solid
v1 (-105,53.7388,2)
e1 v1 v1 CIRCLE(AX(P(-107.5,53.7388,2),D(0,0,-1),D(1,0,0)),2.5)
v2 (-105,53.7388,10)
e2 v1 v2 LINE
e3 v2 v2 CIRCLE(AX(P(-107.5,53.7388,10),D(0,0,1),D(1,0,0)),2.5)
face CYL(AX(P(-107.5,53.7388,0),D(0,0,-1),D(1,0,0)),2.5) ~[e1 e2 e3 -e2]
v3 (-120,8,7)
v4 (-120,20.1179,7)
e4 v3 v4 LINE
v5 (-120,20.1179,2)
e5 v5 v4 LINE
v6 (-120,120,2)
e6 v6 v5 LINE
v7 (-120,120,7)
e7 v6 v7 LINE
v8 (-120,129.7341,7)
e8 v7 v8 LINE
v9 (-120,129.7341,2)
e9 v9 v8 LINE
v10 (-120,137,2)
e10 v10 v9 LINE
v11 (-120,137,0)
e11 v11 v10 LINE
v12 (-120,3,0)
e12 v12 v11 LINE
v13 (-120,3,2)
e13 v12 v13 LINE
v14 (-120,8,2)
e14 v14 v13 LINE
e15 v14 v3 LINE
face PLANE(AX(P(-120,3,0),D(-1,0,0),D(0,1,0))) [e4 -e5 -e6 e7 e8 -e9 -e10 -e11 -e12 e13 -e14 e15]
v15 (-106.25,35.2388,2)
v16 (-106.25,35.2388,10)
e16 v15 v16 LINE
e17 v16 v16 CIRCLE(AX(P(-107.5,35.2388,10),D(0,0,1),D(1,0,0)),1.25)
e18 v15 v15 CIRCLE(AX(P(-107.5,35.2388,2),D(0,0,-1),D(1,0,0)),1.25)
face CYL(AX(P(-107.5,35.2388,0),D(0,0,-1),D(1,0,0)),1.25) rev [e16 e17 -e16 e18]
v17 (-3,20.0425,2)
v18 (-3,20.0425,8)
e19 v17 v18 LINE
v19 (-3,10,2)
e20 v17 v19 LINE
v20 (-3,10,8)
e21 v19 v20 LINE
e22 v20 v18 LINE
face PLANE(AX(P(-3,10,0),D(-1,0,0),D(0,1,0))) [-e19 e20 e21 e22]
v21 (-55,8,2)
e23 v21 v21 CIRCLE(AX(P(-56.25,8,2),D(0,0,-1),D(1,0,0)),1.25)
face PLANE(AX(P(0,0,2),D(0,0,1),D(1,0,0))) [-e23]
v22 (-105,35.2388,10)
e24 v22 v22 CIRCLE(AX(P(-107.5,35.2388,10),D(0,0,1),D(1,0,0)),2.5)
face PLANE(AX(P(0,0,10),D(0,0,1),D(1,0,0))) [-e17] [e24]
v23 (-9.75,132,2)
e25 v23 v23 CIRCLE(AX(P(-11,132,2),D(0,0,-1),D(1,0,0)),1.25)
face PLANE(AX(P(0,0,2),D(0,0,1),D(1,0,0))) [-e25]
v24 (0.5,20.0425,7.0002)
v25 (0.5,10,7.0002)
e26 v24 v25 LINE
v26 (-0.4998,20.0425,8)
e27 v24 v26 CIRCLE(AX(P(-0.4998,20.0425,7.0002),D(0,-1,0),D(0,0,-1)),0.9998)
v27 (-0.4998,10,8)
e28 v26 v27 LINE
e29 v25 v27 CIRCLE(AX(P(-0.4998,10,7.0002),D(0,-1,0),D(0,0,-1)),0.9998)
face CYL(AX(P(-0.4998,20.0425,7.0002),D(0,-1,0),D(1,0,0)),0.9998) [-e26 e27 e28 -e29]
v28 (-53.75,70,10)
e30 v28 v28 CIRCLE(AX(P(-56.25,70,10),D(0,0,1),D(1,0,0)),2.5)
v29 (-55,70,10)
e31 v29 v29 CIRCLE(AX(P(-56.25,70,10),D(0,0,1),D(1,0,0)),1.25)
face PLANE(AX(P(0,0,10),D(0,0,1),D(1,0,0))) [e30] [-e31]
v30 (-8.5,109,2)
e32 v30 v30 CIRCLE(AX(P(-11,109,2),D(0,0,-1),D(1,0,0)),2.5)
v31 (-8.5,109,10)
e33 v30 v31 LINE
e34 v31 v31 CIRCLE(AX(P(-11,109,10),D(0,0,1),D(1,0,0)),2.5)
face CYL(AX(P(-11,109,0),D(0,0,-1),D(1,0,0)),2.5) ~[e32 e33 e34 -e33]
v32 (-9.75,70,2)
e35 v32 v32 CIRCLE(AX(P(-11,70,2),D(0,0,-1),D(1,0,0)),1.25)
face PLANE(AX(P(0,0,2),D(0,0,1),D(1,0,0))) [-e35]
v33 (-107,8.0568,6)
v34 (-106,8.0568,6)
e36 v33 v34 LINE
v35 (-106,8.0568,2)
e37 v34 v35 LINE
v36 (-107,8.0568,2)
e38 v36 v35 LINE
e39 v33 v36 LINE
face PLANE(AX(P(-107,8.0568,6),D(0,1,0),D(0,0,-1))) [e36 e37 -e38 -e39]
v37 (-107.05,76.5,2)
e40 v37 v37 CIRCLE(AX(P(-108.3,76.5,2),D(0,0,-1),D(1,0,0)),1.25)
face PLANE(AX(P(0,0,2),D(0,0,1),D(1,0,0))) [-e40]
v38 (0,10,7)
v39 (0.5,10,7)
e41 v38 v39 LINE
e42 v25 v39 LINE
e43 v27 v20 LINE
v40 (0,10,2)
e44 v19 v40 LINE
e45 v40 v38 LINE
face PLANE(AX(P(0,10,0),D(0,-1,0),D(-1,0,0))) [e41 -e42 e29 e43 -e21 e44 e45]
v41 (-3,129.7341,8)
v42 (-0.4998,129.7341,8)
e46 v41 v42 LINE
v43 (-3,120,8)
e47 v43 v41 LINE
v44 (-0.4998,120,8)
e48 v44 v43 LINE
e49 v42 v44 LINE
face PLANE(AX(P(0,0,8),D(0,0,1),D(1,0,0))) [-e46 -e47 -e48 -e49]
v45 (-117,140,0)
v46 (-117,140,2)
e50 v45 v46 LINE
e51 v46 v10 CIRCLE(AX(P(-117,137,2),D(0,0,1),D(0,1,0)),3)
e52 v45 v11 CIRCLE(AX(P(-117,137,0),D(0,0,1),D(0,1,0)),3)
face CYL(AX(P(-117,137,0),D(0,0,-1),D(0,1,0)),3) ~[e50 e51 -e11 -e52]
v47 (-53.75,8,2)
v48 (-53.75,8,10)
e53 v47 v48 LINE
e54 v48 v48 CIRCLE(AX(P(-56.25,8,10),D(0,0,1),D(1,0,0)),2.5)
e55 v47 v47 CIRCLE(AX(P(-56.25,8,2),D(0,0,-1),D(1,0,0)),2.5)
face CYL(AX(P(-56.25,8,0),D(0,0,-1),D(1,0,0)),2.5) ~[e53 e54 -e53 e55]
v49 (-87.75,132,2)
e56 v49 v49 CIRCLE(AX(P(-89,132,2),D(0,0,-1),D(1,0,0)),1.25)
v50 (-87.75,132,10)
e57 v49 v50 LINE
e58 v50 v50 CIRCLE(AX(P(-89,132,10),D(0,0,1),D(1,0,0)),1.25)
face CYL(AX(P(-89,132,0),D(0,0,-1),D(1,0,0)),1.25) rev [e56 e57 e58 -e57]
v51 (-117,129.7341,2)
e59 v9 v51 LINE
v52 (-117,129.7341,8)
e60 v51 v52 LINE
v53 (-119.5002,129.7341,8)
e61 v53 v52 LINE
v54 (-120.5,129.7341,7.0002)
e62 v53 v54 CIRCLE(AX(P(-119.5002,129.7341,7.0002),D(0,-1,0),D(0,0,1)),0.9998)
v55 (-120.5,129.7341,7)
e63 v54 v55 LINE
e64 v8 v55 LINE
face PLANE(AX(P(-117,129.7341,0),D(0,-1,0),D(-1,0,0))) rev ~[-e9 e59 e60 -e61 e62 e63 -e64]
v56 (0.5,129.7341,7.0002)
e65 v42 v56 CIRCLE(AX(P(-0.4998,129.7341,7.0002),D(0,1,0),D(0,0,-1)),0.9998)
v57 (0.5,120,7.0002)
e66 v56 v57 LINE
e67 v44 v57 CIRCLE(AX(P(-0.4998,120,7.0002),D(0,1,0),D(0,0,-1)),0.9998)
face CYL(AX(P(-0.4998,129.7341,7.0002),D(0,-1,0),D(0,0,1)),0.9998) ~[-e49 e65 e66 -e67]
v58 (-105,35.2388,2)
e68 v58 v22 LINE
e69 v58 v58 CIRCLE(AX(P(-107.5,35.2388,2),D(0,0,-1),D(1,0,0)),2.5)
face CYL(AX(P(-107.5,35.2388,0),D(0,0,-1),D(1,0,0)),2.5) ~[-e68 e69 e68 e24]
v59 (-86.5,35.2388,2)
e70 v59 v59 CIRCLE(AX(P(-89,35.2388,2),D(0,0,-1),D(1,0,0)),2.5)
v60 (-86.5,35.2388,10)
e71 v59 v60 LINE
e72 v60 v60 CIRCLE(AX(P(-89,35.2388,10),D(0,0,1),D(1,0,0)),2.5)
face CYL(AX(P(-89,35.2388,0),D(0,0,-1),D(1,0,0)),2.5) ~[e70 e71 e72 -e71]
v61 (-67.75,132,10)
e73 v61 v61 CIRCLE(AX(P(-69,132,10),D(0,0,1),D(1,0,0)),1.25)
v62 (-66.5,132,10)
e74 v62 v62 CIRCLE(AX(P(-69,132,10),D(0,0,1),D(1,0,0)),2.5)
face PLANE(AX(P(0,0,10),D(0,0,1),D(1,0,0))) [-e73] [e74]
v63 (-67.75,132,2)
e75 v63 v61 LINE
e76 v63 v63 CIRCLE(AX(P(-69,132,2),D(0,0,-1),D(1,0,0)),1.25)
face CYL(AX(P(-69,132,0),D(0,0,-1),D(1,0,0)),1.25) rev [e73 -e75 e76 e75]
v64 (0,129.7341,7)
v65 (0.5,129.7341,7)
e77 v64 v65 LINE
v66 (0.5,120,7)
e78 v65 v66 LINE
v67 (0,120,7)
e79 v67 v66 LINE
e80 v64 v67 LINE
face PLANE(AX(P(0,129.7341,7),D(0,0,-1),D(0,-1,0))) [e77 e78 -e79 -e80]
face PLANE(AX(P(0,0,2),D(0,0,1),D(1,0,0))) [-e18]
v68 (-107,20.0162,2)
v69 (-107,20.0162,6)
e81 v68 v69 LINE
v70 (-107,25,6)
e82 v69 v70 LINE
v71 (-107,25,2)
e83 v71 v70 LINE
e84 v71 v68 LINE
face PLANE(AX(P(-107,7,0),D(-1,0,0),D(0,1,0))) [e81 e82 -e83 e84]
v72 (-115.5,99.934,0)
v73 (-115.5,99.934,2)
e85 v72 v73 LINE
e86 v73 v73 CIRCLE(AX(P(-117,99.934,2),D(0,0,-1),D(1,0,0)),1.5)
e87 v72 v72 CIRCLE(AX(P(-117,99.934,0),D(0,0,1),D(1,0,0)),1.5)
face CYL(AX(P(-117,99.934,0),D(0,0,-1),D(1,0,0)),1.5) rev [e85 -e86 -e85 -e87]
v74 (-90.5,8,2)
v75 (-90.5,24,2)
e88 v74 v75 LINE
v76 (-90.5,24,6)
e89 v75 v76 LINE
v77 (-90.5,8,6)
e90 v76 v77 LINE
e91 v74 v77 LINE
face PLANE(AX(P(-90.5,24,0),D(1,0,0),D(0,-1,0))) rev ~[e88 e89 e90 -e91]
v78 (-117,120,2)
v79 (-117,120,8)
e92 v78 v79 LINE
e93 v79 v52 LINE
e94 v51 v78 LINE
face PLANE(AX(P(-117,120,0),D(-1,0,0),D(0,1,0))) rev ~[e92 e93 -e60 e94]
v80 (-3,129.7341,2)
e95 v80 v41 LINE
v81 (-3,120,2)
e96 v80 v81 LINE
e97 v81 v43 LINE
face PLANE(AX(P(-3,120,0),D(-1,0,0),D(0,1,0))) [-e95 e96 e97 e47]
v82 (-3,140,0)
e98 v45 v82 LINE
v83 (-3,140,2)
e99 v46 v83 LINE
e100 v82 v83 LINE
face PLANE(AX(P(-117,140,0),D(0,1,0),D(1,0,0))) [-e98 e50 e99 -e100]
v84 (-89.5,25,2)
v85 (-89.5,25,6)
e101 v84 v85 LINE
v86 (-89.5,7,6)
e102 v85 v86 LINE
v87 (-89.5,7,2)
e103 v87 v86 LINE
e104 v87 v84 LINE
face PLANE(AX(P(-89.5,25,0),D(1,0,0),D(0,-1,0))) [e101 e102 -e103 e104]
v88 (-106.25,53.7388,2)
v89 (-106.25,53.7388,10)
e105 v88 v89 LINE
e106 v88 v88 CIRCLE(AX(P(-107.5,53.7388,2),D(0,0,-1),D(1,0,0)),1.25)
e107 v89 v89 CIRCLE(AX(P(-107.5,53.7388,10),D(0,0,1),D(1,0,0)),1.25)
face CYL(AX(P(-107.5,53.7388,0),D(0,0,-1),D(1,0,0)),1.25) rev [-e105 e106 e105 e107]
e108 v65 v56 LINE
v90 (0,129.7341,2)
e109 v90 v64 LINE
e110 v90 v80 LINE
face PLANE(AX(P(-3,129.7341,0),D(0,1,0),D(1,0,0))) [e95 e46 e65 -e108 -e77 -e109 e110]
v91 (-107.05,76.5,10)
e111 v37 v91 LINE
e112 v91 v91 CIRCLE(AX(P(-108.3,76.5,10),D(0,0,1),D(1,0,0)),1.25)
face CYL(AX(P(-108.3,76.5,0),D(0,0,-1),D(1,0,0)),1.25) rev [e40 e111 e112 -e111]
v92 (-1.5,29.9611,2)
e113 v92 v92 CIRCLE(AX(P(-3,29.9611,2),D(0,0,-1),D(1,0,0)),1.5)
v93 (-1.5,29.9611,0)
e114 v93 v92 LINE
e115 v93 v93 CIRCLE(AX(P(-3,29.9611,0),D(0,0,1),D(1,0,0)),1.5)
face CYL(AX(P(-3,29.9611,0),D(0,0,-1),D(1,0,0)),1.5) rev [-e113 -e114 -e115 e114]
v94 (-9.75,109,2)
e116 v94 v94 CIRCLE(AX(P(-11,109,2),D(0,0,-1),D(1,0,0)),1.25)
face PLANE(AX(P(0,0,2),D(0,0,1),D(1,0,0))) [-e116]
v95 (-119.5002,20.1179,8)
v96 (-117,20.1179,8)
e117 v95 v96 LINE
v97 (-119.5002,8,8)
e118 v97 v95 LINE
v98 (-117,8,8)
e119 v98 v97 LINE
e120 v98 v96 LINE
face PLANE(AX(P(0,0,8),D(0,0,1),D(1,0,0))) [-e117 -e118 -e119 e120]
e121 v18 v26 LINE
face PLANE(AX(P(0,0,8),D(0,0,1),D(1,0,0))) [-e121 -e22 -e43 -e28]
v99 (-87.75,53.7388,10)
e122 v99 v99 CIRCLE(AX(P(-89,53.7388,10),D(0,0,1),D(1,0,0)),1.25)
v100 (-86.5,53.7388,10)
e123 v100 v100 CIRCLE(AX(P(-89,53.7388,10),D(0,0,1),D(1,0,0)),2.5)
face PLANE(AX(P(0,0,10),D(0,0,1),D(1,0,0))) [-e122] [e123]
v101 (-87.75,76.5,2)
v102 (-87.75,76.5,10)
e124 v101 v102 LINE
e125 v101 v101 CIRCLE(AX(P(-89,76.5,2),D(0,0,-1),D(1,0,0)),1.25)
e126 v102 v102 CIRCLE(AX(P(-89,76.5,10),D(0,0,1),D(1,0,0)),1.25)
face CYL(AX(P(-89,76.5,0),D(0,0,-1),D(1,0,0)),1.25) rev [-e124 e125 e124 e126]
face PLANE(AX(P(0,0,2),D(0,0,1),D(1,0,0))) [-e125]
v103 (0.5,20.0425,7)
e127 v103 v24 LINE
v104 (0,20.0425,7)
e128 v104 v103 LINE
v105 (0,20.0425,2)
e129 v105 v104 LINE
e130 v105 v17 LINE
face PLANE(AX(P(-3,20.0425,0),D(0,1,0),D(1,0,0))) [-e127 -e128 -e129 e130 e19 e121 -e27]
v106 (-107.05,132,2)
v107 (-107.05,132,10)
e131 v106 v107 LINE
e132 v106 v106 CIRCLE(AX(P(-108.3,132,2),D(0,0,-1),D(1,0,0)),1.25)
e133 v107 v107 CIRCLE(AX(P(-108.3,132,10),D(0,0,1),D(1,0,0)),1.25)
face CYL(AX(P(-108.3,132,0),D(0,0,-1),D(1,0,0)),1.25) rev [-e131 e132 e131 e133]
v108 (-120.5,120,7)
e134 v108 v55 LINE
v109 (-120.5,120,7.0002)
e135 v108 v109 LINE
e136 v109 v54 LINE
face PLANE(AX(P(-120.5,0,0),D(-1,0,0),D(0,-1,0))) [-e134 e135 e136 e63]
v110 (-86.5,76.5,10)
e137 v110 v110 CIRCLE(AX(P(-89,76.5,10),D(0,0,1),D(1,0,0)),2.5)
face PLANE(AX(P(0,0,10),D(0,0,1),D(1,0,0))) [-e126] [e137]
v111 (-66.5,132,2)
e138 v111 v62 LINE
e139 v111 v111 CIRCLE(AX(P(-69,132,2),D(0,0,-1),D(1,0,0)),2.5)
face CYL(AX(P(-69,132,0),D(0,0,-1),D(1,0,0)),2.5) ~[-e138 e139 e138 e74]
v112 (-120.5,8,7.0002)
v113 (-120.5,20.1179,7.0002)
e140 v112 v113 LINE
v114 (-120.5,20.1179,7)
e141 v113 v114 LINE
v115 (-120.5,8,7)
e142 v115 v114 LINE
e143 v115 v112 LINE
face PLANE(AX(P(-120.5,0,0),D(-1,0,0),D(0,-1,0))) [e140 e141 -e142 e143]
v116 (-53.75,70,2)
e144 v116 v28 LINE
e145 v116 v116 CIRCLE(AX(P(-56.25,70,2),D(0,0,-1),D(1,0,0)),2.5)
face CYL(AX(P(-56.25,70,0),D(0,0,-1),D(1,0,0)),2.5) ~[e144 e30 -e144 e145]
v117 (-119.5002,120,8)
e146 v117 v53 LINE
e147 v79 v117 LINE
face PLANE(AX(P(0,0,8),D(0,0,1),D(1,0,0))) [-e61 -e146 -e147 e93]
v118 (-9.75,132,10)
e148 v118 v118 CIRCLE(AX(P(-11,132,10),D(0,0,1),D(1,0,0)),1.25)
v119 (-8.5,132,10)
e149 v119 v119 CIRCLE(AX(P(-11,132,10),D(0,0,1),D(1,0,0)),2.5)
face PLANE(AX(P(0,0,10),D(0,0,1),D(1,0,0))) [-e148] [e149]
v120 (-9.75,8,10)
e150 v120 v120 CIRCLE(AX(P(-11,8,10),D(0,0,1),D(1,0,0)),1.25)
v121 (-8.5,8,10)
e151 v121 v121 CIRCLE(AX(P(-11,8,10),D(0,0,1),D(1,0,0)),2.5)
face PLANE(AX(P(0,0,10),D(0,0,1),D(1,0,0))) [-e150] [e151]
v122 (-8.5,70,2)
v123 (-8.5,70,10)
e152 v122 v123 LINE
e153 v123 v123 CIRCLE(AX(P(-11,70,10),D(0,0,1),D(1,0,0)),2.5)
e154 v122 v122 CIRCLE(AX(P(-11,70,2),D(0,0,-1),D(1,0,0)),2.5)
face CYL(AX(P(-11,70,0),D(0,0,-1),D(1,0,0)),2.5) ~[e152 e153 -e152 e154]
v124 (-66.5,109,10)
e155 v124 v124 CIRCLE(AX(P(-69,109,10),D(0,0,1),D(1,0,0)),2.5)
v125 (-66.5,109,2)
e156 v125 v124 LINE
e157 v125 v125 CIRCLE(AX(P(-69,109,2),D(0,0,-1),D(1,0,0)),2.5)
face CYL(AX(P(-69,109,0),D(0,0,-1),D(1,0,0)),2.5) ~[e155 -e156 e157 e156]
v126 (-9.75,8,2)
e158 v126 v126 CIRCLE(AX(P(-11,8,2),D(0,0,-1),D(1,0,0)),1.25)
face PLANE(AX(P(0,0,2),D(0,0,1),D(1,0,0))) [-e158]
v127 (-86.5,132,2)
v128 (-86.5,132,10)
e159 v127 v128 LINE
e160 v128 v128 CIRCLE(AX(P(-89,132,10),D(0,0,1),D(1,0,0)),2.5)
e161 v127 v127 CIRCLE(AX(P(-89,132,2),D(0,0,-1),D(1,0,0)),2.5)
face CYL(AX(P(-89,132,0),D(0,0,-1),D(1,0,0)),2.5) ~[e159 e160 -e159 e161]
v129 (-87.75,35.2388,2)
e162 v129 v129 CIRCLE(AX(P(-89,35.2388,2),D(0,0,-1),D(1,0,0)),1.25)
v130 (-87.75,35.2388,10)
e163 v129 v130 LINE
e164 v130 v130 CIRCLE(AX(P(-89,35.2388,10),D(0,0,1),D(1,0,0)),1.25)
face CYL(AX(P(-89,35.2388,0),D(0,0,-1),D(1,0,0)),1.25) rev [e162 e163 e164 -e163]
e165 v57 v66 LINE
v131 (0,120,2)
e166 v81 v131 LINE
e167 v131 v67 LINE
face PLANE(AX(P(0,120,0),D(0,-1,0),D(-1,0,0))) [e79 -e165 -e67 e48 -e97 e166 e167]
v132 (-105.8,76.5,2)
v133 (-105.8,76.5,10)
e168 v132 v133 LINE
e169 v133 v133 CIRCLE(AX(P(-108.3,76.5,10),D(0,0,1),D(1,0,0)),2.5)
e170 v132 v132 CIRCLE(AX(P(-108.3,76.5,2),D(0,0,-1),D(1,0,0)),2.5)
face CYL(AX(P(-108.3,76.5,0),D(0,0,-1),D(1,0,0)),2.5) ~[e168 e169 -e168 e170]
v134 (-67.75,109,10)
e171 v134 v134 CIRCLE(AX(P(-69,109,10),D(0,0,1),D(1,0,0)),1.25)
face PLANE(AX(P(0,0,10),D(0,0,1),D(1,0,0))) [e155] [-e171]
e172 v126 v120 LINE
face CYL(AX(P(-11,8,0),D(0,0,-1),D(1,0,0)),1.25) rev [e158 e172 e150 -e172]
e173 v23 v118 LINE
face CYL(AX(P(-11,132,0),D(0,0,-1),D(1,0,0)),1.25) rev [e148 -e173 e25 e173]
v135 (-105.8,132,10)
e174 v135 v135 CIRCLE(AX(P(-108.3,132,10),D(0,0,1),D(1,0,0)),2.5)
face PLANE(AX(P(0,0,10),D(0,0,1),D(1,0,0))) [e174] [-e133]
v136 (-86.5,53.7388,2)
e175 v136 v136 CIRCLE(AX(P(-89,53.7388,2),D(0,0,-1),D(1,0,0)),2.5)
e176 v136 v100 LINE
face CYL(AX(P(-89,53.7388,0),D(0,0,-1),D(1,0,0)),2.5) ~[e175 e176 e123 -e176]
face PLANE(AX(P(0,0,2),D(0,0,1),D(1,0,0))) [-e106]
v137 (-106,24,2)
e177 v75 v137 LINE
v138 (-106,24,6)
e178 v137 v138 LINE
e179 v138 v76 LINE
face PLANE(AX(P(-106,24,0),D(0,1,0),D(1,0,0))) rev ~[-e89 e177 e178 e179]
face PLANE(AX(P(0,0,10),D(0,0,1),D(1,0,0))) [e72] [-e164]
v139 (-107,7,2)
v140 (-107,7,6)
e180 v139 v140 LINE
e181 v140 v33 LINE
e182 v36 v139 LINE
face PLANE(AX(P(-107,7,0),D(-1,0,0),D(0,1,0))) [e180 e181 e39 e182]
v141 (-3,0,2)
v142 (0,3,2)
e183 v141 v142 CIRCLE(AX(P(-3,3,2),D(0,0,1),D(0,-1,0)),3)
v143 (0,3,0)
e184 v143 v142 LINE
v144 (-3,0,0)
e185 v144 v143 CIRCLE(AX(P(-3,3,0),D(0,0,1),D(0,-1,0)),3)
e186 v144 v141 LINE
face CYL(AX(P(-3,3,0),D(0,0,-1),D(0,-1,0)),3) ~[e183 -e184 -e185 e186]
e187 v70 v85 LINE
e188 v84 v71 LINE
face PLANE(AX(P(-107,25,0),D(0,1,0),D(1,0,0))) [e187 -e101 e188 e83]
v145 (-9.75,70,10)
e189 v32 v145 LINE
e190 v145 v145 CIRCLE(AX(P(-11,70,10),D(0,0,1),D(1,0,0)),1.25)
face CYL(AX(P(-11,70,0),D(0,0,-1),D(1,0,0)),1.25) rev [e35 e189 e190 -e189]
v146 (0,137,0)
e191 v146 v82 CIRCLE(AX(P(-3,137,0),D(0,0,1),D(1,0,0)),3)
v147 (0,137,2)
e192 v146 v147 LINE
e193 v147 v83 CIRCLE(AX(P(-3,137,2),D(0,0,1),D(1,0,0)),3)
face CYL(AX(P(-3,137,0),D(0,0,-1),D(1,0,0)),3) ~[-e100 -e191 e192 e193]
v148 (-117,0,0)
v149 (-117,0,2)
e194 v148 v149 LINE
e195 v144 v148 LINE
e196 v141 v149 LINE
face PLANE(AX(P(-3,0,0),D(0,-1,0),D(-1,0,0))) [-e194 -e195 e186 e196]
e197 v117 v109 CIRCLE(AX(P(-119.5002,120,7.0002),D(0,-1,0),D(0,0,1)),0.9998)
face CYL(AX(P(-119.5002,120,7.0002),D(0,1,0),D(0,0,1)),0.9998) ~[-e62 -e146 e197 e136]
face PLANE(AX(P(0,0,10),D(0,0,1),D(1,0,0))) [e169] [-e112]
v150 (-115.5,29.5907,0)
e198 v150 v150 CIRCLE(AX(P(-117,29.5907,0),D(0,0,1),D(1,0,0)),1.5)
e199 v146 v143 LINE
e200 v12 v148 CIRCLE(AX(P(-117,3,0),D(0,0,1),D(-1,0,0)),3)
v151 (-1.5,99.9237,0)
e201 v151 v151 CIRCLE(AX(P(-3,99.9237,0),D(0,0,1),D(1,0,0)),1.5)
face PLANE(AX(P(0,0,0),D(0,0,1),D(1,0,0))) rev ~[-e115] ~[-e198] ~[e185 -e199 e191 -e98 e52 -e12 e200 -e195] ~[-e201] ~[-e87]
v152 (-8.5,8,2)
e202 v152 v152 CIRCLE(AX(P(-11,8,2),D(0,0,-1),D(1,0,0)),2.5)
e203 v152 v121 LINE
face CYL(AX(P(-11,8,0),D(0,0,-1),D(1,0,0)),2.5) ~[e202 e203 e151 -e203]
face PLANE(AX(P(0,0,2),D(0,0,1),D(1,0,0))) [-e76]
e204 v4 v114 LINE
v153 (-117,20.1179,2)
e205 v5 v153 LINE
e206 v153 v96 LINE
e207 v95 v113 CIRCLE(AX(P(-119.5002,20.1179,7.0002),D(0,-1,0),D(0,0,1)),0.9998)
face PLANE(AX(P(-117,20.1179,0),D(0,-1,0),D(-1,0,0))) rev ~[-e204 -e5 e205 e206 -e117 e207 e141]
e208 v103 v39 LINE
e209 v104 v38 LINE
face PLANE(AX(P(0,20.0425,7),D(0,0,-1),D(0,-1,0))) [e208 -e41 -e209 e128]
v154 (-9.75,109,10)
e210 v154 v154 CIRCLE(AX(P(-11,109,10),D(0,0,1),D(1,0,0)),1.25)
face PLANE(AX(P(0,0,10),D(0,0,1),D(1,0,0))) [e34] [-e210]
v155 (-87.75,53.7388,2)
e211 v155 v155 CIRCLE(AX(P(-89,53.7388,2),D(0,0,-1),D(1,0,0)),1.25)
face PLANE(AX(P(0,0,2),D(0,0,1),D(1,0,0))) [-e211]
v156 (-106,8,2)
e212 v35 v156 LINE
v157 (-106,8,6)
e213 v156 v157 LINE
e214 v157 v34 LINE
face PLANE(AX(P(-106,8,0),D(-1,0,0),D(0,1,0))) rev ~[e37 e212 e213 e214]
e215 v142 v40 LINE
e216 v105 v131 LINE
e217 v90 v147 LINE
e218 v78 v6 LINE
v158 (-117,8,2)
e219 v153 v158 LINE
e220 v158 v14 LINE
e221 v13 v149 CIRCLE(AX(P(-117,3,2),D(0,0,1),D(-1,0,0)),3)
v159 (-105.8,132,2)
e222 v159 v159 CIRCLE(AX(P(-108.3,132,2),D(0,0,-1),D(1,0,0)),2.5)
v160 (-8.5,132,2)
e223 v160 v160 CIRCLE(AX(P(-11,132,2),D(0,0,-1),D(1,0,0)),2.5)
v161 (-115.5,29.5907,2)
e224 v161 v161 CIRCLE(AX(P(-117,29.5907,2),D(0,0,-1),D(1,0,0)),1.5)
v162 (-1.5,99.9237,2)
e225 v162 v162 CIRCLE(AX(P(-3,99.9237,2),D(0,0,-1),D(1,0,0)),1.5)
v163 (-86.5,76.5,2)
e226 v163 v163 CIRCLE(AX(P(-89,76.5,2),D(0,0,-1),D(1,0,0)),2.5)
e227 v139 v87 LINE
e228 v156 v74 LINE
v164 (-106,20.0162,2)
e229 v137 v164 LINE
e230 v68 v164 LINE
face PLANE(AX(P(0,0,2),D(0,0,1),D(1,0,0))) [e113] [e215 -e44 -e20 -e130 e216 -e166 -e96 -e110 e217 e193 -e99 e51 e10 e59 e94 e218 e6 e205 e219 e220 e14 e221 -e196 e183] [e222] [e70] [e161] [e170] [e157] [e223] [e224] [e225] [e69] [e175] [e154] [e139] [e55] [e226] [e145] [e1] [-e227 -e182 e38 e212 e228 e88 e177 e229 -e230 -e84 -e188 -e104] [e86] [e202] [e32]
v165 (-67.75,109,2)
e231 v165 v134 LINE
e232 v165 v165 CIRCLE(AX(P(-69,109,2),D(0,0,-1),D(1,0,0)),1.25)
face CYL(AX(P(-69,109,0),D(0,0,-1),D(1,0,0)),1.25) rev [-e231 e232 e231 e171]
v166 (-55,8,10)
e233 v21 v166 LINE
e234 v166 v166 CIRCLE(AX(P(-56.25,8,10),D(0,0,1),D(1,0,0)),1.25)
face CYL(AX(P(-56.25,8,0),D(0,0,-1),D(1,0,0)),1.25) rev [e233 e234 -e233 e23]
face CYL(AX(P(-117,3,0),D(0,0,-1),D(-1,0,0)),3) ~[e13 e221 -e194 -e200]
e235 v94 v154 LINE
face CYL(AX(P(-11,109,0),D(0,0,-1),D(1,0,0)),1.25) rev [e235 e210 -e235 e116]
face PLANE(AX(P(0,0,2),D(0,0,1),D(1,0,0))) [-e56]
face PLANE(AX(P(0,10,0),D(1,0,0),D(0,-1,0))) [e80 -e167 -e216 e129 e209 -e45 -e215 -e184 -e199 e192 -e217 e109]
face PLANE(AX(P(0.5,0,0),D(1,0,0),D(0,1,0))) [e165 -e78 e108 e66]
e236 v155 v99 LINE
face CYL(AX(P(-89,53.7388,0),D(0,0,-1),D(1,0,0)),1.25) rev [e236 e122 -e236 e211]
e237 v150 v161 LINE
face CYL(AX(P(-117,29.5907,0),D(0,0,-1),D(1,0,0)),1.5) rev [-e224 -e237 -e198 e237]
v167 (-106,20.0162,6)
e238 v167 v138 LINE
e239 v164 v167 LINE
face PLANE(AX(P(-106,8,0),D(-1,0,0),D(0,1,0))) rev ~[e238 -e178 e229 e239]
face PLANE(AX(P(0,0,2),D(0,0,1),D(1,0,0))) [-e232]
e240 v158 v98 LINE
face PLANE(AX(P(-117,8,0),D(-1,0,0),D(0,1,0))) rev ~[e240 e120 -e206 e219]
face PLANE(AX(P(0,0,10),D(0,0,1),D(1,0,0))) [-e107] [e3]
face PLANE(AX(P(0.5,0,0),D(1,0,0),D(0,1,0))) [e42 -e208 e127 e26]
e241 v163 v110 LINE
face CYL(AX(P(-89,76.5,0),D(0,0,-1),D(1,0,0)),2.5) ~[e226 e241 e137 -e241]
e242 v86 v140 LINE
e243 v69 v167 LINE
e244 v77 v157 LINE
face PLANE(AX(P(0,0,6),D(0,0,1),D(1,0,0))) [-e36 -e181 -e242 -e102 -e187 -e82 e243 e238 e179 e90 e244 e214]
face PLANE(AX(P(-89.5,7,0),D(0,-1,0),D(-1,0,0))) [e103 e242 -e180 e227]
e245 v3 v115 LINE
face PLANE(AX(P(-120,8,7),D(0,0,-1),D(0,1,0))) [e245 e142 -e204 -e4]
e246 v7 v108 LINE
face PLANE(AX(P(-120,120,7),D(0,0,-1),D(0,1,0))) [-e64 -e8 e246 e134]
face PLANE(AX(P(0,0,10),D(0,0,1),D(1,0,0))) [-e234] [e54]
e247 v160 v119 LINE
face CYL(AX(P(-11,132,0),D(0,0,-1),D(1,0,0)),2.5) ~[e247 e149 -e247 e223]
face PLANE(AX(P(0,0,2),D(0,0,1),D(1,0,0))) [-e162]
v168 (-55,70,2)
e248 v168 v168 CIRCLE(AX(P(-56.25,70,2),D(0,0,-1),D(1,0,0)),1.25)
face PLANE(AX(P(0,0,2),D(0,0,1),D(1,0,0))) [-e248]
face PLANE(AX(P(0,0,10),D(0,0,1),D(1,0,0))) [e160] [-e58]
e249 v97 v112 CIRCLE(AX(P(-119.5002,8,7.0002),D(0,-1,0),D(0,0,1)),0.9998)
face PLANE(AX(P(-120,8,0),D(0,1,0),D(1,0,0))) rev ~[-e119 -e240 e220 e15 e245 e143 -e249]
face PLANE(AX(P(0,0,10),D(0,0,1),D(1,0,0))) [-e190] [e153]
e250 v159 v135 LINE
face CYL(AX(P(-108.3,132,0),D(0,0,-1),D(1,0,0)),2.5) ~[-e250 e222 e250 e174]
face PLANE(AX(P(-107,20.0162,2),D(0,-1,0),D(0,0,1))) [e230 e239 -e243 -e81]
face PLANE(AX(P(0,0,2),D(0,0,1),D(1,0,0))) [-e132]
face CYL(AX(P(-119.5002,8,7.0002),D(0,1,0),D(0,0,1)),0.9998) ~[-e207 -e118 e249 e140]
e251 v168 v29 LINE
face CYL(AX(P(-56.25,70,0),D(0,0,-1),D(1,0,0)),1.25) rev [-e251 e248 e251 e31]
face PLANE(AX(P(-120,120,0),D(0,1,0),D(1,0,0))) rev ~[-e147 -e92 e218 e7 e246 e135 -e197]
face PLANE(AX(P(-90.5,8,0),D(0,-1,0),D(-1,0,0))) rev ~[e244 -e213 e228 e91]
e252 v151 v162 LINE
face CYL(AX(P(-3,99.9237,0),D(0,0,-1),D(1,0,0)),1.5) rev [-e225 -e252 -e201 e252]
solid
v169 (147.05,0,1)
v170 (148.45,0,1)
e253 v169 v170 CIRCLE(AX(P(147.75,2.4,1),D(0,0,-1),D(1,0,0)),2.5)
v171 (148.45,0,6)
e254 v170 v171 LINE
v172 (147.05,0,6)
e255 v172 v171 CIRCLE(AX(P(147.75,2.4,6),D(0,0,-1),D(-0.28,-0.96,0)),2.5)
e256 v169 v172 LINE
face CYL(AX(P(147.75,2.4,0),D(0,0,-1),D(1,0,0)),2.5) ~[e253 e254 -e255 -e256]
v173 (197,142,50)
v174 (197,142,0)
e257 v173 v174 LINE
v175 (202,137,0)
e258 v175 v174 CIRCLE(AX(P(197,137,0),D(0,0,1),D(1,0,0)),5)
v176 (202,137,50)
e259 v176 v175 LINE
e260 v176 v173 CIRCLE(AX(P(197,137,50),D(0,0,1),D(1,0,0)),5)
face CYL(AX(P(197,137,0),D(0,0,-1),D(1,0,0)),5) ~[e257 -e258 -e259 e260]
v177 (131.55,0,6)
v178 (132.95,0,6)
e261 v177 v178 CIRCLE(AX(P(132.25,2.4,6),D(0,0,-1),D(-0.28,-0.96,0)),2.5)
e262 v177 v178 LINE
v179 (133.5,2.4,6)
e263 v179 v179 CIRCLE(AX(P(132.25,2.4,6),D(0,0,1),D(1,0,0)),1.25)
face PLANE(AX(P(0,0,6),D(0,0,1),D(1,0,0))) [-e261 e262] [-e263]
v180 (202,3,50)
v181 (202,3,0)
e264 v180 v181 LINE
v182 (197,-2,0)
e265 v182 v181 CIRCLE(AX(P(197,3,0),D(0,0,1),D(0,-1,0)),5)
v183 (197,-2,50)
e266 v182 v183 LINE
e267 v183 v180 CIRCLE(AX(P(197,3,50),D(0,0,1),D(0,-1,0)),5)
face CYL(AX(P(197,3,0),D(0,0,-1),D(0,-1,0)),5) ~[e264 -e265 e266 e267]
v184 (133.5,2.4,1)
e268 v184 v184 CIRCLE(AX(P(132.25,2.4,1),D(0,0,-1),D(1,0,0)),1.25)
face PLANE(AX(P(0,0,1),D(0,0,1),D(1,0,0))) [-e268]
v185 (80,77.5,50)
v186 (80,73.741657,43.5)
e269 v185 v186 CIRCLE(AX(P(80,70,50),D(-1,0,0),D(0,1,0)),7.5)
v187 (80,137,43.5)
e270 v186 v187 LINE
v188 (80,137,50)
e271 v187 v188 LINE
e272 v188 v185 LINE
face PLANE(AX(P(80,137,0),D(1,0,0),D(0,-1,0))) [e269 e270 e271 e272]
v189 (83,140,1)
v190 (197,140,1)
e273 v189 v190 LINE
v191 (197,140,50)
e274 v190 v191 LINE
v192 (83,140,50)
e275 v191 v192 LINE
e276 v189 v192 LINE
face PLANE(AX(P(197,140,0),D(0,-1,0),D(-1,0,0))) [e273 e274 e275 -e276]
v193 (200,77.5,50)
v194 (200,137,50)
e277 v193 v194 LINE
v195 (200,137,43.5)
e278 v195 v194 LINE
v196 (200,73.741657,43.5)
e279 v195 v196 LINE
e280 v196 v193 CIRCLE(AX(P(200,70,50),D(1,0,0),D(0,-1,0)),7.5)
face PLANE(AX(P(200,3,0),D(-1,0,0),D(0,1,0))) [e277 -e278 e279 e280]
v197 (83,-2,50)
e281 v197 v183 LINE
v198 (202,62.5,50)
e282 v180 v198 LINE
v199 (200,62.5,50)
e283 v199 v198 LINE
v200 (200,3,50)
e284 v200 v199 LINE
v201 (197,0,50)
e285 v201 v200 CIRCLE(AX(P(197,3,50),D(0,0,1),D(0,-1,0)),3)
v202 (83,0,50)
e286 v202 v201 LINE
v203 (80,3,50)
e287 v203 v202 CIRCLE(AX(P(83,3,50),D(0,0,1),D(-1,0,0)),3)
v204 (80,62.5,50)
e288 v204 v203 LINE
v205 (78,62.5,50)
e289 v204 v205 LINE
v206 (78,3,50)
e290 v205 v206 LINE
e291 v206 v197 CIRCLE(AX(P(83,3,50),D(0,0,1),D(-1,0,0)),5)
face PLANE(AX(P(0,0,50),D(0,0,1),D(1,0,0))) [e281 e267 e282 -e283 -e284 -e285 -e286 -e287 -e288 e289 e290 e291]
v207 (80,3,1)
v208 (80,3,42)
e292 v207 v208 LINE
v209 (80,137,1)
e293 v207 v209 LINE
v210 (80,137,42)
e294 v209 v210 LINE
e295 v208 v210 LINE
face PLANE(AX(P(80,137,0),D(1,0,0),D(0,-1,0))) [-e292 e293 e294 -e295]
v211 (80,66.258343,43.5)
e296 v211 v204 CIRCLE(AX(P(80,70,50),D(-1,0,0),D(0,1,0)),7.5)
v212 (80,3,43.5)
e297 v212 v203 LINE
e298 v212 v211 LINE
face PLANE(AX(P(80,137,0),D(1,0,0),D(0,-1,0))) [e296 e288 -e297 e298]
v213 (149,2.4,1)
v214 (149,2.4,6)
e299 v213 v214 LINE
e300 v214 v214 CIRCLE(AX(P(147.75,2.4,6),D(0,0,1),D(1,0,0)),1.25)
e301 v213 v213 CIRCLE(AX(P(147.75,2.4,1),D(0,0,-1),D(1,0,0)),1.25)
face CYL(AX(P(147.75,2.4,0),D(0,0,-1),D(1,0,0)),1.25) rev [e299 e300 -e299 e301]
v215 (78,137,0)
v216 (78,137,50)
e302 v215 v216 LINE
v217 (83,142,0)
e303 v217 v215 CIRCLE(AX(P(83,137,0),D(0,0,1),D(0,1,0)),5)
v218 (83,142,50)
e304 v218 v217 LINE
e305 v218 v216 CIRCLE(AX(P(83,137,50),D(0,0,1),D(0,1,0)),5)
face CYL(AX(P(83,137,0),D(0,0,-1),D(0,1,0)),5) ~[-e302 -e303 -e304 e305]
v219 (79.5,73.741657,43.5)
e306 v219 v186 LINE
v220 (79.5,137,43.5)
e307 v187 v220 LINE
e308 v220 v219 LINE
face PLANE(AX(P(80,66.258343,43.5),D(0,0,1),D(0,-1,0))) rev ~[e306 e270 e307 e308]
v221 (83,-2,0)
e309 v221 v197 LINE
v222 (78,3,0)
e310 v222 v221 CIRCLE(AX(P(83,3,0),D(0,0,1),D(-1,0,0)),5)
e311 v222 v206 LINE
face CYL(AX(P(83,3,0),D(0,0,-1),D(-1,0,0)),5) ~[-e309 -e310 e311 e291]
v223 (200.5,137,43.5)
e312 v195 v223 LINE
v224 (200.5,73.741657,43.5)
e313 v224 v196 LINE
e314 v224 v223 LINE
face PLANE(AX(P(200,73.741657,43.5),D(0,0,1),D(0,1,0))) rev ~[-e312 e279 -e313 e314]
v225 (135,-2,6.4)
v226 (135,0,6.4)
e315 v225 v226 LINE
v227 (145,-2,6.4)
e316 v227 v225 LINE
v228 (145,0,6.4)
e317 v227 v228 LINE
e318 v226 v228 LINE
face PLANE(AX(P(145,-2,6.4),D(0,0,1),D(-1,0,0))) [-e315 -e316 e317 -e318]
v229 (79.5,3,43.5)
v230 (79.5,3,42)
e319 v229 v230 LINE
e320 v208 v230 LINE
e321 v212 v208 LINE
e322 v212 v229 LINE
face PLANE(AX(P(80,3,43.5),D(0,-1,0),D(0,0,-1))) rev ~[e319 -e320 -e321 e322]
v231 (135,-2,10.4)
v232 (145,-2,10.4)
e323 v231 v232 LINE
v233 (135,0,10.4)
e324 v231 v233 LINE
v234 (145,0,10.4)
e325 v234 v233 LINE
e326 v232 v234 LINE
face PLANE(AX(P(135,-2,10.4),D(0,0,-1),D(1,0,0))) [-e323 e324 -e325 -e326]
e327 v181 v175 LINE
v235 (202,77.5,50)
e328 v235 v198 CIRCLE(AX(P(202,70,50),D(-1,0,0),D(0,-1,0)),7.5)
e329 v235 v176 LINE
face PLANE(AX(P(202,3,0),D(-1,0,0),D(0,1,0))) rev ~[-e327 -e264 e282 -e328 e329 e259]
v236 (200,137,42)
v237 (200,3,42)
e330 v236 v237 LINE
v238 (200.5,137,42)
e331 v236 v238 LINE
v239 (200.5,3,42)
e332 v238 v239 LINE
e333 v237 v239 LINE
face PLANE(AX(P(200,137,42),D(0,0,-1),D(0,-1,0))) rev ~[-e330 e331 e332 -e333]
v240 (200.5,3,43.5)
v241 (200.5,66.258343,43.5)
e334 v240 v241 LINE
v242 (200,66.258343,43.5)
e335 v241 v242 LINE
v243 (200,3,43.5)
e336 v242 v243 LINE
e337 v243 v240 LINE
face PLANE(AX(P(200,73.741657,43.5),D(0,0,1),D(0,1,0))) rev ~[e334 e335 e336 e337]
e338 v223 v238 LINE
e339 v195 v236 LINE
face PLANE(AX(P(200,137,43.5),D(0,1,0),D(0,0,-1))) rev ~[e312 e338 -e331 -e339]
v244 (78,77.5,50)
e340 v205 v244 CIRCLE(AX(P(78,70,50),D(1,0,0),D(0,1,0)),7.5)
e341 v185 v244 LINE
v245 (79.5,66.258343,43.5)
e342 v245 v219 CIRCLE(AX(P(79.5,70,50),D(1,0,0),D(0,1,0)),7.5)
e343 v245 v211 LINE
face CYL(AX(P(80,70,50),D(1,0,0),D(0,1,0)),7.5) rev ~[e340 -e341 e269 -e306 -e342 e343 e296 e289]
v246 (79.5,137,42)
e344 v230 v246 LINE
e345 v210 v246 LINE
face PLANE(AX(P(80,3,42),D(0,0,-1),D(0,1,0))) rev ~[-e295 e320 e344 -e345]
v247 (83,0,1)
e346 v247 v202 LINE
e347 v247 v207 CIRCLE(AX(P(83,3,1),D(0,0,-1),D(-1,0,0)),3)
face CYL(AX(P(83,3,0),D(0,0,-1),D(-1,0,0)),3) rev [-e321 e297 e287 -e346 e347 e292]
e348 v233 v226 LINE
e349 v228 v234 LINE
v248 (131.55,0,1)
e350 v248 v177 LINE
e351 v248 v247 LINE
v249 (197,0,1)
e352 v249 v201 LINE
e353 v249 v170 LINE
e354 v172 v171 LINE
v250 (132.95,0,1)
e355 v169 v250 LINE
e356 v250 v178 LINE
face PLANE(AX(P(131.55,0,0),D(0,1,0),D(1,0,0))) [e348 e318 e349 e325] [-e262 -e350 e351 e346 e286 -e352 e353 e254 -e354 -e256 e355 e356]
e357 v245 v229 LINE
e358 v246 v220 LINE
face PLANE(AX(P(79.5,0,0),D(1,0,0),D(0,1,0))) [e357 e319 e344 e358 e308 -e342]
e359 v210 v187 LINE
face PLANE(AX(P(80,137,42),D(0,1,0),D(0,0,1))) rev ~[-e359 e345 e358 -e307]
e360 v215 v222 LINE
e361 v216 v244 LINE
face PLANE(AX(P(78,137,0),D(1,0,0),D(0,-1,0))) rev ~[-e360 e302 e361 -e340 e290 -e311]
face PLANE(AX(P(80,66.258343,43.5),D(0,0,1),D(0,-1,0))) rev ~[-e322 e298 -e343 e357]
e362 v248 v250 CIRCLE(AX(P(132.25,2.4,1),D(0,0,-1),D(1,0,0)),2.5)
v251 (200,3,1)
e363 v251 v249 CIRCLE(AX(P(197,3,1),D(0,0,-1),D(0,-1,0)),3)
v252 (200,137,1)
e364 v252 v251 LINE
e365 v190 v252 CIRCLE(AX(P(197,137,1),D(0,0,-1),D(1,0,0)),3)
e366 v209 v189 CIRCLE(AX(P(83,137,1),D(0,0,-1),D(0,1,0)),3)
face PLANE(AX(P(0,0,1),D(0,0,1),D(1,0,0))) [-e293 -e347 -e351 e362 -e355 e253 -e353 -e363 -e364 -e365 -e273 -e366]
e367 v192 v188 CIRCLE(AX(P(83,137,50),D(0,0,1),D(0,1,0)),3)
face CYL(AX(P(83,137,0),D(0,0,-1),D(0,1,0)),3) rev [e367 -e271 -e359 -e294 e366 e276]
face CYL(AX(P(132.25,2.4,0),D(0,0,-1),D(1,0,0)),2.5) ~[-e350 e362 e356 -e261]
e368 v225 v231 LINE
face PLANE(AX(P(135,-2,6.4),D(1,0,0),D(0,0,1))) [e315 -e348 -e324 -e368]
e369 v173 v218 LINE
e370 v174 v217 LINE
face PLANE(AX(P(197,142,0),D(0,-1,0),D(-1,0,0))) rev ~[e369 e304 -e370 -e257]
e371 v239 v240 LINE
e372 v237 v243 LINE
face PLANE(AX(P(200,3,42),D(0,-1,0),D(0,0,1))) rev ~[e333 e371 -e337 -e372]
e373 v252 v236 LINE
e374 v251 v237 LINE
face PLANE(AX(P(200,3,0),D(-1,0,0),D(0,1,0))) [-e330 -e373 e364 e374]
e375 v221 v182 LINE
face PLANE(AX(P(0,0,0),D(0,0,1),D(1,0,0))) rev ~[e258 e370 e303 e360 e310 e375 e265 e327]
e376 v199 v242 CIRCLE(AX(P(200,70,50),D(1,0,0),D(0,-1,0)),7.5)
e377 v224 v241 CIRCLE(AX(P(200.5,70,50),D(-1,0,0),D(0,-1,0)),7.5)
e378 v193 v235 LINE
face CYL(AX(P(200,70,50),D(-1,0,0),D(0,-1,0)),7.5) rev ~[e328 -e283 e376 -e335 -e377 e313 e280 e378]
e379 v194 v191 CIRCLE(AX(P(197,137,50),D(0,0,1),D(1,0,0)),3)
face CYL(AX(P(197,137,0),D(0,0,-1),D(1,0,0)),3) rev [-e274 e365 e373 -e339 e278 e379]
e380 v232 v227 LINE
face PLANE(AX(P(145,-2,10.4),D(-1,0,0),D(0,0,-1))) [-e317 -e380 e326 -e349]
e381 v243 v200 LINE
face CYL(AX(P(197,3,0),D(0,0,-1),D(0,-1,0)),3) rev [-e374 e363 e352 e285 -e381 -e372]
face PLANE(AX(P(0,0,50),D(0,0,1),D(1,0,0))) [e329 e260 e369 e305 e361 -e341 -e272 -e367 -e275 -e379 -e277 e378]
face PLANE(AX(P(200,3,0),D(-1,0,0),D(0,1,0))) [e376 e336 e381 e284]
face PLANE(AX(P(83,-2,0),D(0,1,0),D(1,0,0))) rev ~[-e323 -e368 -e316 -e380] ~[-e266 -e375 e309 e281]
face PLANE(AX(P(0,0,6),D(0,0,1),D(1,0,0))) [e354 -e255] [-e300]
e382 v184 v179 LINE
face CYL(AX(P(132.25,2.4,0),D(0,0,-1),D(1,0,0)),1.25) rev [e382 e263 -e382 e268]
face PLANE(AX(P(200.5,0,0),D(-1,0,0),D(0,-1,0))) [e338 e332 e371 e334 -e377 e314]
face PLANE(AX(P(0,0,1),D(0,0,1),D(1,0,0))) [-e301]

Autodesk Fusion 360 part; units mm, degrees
sketch "Sketch1" plane through (0, 0, 0) normal (0, 0, 1) x (1, 0, 0)
  line L0 (-3, 0) -> (-117, 0)
  line L1 (-120, 3) -> (-120, 137)
  line L2 (-117, 140) -> (-3, 140)
  line L3 (0, 137) -> (0, 3)
  line L4 (-11, 0) -> (-11, 140) construction
  line L5 (-69, 0) -> (-69, 140) construction
  line L6 (-120, 132) -> (0, 132) construction
  line L7 (-120, 109) -> (0, 109) construction
  line L8 (-56.25, 0) -> (-56.25, 140) construction
  line L9 (-120, 8) -> (0, 8) construction
  line L10 (-120, 68) -> (0, 68) construction
  circle A0 centre (-56.25, 8) radius 2.5
  circle A1 centre (-56.25, 70) radius 2.5
  circle A2 centre (-11, 8) radius 2.5
  circle A3 centre (-11, 70) radius 2.5
  circle A4 centre (-11, 109) radius 2.5
  circle A5 centre (-11, 132) radius 2.5
  circle A6 centre (-11, 109) radius 1.25
  circle A7 centre (-11, 132) radius 1.25
  circle A8 centre (-56.25, 8) radius 1.25
  circle A9 centre (-56.25, 70) radius 1.25
  circle A10 centre (-11, 70) radius 1.25
  circle A11 centre (-11, 8) radius 1.25
  line L11 (-89, 0) -> (-89, 140) construction
  line L12 (-108.3, 0) -> (-108.3, 140) construction
  line L13 (-120, 76.5) -> (0, 76.5) construction
  circle A12 centre (-108.3, 132) radius 2.5
  circle A13 centre (-108.3, 76.5) radius 2.5
  circle A14 centre (-89, 76.5) radius 2.5
  circle A15 centre (-89, 132) radius 2.5
  circle A16 centre (-108.3, 76.5) radius 1.25
  circle A17 centre (-108.3, 132) radius 1.25
  circle A18 centre (-89, 76.5) radius 1.25
  circle A19 centre (-89, 132) radius 1.25
  line L14 (-120, 53.7388) -> (0, 53.7388) construction
  line L15 (-120, 35.2388) -> (0, 35.2388) construction
  line L16 (-107.5, 0) -> (-107.5, 140) construction
  circle A20 centre (-107.5, 53.7388) radius 2.5
  circle A21 centre (-107.5, 35.2388) radius 2.5
  circle A22 centre (-89, 35.2388) radius 2.5
  circle A23 centre (-89, 53.7388) radius 2.5
  circle A24 centre (-107.5, 35.2388) radius 1.25
  circle A25 centre (-107.5, 53.7388) radius 1.25
  circle A26 centre (-89, 35.2388) radius 1.25
  circle A27 centre (-89, 53.7388) radius 1.25
  line L17 (-90.5, 8) -> (-106, 8)
  line L18 (-106, 8) -> (-106, 24)
  line L19 (-106, 24) -> (-90.5, 24)
  line L20 (-90.5, 24) -> (-90.5, 8)
  line L21 (-89.5, 7) -> (-107, 7)
  line L22 (-107, 7) -> (-107, 25)
  line L23 (-107, 25) -> (-89.5, 25)
  line L24 (-89.5, 25) -> (-89.5, 7)
  arc A28 (-120, 3) -> (-117, 0) centre (-117, 3) ccw
  arc A29 (-117, 140) -> (-120, 137) centre (-117, 137) ccw
  arc A30 (0, 137) -> (-3, 140) centre (-3, 137) ccw
  arc A31 (-3, 0) -> (0, 3) centre (-3, 3) ccw
  line L25 (-3, 0) -> (-3, 140) construction
  line L26 (-117, 0) -> (-117, 140) construction
  circle A32 centre (-117, 99.934) radius 1.5
  circle A33 centre (-69, 132) radius 2.5
  circle A34 centre (-69, 109) radius 2.5
  circle A35 centre (-69, 132) radius 1.25
  circle A36 centre (-69, 109) radius 1.25
  line L27 (-120, 120) -> (-117, 120)
  line L28 (-117, 120) -> (-117, 129.7341)
  line L29 (-117, 129.7341) -> (-120, 129.7341)
  line L30 (-120, 129.7341) -> (-120, 120)
  line L31 (0, 120) -> (-3, 120)
  line L32 (-3, 120) -> (-3, 129.7341)
  line L33 (-3, 129.7341) -> (0, 129.7341)
  line L34 (0, 129.7341) -> (0, 120)
  line L35 (-120, 8) -> (-117, 8)
  line L36 (-117, 8) -> (-117, 20.1179)
  line L37 (-117, 20.1179) -> (-120, 20.1179)
  line L38 (-120, 20.1179) -> (-120, 8)
  line L39 (0, 10) -> (-3, 10)
  line L40 (-3, 10) -> (-3, 20.0425)
  line L41 (-3, 20.0425) -> (0, 20.0425)
  line L42 (0, 20.0425) -> (0, 10)
  circle A37 centre (-117, 29.5907) radius 1.5
  circle A38 centre (-3, 29.9611) radius 1.5
  circle A39 centre (-3, 99.9237) radius 1.5
  point P0 (-120, 0)
  point P1 (0, 140)
  dimension "d1" = 120
  dimension "d2" = 140
  dimension "d3" = 58
  dimension "d4" = 23
  dimension "d5" = 45.25
  dimension "d6" = 60
  dimension "d7" = 5
  dimension "d8" = 5
  dimension "d9" = 5
  dimension "d10" = 5
  dimension "d13" = 5
  dimension "d14" = 5
  dimension "d17" = 2.5
  dimension "d18" = 2.5
  dimension "d19" = 2.5
  dimension "d20" = 2.5
  dimension "d21" = 2.5
  dimension "d22" = 2.5
  dimension "d23" = 20
  dimension "d24" = 19.3
  dimension "d25" = 55.5
  dimension "d26" = 5
  dimension "d27" = 5
  dimension "d28" = 5
  dimension "d29" = 5
  dimension "d30" = 2.5
  dimension "d31" = 2.5
  dimension "d32" = 2.5
  dimension "d33" = 2.5
  dimension "d34" = 18.5
  dimension "d35" = 18.5
  dimension "d36" = 5
  dimension "d37" = 5
  dimension "d38" = 5
  dimension "d39" = 5
  dimension "d40" = 2.5
  dimension "d41" = 2.5
  dimension "d42" = 2.5
  dimension "d43" = 2.5
  dimension "d44" = 15.5
  dimension "d45" = 16
  dimension "d46" = -1
  dimension "d47" = 3
  dimension "d48" = 3
  dimension "d49" = 3
  dimension "d50" = 3
  dimension "d59" = 11
  dimension "d64" = 3
  dimension "d68" = 5
  dimension "d69" = 5
  dimension "d70" = 2.5
  dimension "d71" = 2.5
  dimension "d72" = 8
  dimension "d73" = 8
  dimension "d74" = 13
  dimension "d75" = 3
  dimension "d76" = 3
  dimension "d77" = 3
extrude "Extrude1" add sketch "Sketch1" along normal blind 2 contours L0 L1 L2 L3 A28 A29 A30 A31 L27 L28 L29 L31 L32 L33 L35 L36 L37 L39 L40 L41 | L3 L39 L40 L41 L42 | L1 L35 L36 L37 L38 | L3 L31 L32 L33 L34 | L1 L27 L28 L29 L30 | A0 | A1 | A2 | A3 | A4 | A5 | A6 | A7 | A8 | A9 | A10 | A11 | A12 | A13 | A14 | A15 | A16 | A17 | A18 | A19 | A20 | A21 | A22 | A23 | A24 | A25 | A26 | A27 | L17 L18 L19 L20 | L21 L22 L23 L24 | A32 | A33 | A34 | A35 | A36 | A37 | A38 | A39 makes body 1
extrude "Extrude2" add sketch "Sketch1" along normal blind 10 contours A0 | A1 | A2 | A3 | A4 | A5 | A12 | A13 | A14 | A15 | A20 | A21 | A22 | A23 | A33 | A34 bodies 1
extrude "Extrude3" add sketch "Sketch1" along normal blind 6 contours L21 L22 L23 L24 bodies 1
sketch "Sketch2" plane through (-107, 0, 0) normal (-1, 0, 0) x (0, -1, 0)
  line L0 (-25, 2) -> (-7, 2)
  line L1 (-7, 2) -> (-7, 6)
  line L2 (-7, 6) -> (-25, 6)
  line L3 (-25, 6) -> (-25, 2)
  line L4 (-20.0162, 6) -> (-8.0568, 6)
  line L5 (-8.0568, 6) -> (-8.0568, 2)
  line L6 (-8.0568, 2) -> (-20.0162, 2)
  line L7 (-20.0162, 2) -> (-20.0162, 6)
extrude "Extrude4" cut sketch "Sketch2" against normal blind 4 contours L0 L2 L4 L5 L6 L7 bodies 1
extrude "Extrude5" cut sketch "Sketch1" along normal blind 10 contours A32 | A37 | A38 | A39 bodies 1
extrude "Extrude6" add sketch "Sketch1" along normal blind 8 contours L3 L39 L40 L41 L42 | L1 L35 L36 L37 L38 | L3 L31 L32 L33 L34 | L1 L27 L28 L29 L30 bodies 1
sketch "Sketch3" plane through (0, 0, 0) normal (1, 0, 0) x (0, 1, 0)
  line L0 (3, 0) -> (137, 0)
  line L1 (137, 0) -> (137, 2)
  line L2 (137, 2) -> (129.7341, 2)
  line L3 (129.7341, 2) -> (129.7341, 8)
  line L4 (129.7341, 8) -> (120, 8)
  line L5 (120, 8) -> (120, 2)
  line L6 (120, 2) -> (20.0425, 2)
  line L7 (20.0425, 2) -> (20.0425, 8)
  line L8 (20.0425, 8) -> (10, 8)
  line L9 (10, 8) -> (10, 2)
  line L10 (10, 2) -> (3, 2)
  line L11 (3, 2) -> (3, 0)
  line L12 (10, 8) -> (20.0425, 8)
  line L13 (20.0425, 8) -> (20.0425, 7)
  line L14 (20.0425, 7) -> (10, 7)
  line L15 (10, 7) -> (10, 8)
  line L16 (120, 8) -> (129.7341, 8)
  line L17 (129.7341, 8) -> (129.7341, 7)
  line L18 (129.7341, 7) -> (120, 7)
  line L19 (120, 7) -> (120, 8)
  dimension "d80" = 1
  dimension "d81" = 1
extrude "Extrude7" add sketch "Sketch3" along normal blind 0.5 contours L7 L8 L9 L12 L13 L14 L15 | L3 L4 L5 L16 L17 L18 L19 bodies 1
fillet "Fillet1" radius 1 1 edges at (0.5, 124.8671, 8) on bodies 1
fillet "Fillet2" radius 1 1 edges at (0.5, 15.0213, 8) on bodies 1
sketch "Sketch4" plane through (-120, 0, 0) normal (-1, 0, 0) x (0, -1, 0)
  line L0 (-137, 0) -> (-3, 0)
  line L1 (-3, 0) -> (-3, 2)
  line L2 (-3, 2) -> (-8, 2)
  line L3 (-8, 2) -> (-8, 8)
  line L4 (-8, 8) -> (-20.1179, 8)
  line L5 (-20.1179, 8) -> (-20.1179, 2)
  line L6 (-20.1179, 2) -> (-120, 2)
  line L7 (-120, 2) -> (-120, 8)
  line L8 (-120, 8) -> (-129.7341, 8)
  line L9 (-129.7341, 8) -> (-129.7341, 2)
  line L10 (-129.7341, 2) -> (-137, 2)
  line L11 (-137, 2) -> (-137, 0)
  line L12 (-129.7341, 8) -> (-120, 8)
  line L13 (-120, 8) -> (-120, 7)
  line L14 (-120, 7) -> (-129.7341, 7)
  line L15 (-129.7341, 7) -> (-129.7341, 8)
  line L16 (-20.1179, 8) -> (-8, 8)
  line L17 (-8, 8) -> (-8, 7)
  line L18 (-8, 7) -> (-20.1179, 7)
  line L19 (-20.1179, 7) -> (-20.1179, 8)
  dimension "d88" = 1
  dimension "d89" = 1
extrude "Extrude8" add sketch "Sketch4" along normal blind 0.5 contours L7 L8 L9 L12 L13 L14 L15 | L3 L4 L5 L16 L17 L18 L19 bodies 1
fillet "Fillet3" radius 1 1 edges at (-120.5, 14.059, 8) on bodies 1
fillet "Fillet4" radius 1 1 edges at (-120.5, 124.8671, 8) on bodies 1
sketch "Sketch5" plane through (0, 0, 0) normal (0, 0, 1) x (1, 0, 0)
sketch "Sketch6" plane through (0, 0, 0) normal (0, 0, 1) x (1, 0, 0)
  line L0 (83, 0) -> (197, 0)
  line L1 (200, 3) -> (200, 137)
  line L2 (197, 140) -> (83, 140)
  line L3 (80, 137) -> (80, 3)
  arc A0 (200, 137) -> (197, 140) centre (197, 137) ccw
  arc A1 (197, 0) -> (200, 3) centre (197, 3) ccw
  arc A2 (83, 140) -> (80, 137) centre (83, 137) ccw
  arc A3 (80, 3) -> (83, 0) centre (83, 3) ccw
  line L4 (78, 137) -> (78, 3)
  arc A4 (78, 3) -> (83, -2) centre (83, 3) ccw
  line L5 (83, -2) -> (197, -2)
  arc A5 (197, -2) -> (202, 3) centre (197, 3) ccw
  line L6 (202, 3) -> (202, 137)
  arc A6 (202, 137) -> (197, 142) centre (197, 137) ccw
  line L7 (197, 142) -> (83, 142)
  arc A7 (83, 142) -> (78, 137) centre (83, 137) ccw
  line L8 (140, 140) -> (140, 0) construction
  line L9 (80, 2.4) -> (200, 2.4) construction
  circle A8 centre (132.25, 2.4) radius 2.5
  circle A9 centre (147.75, 2.4) radius 2.5
  circle A10 centre (132.25, 2.4) radius 1.25
  circle A11 centre (147.75, 2.4) radius 1.25
  point P0 (80, 0)
  point P1 (200, 0)
  point P2 (80, 140)
  dimension "d96" = 120
  dimension "d97" = 140
  dimension "d98" = 3
  dimension "d99" = 3
  dimension "d100" = 3
  dimension "d101" = 3
  dimension "d102" = 2
  dimension "d121" = 5
  dimension "d122" = 5
  dimension "d123" = 7.75
  dimension "d124" = 7.75
  dimension "d125" = 2.4
  dimension "d126" = 2.5
  dimension "d127" = 2.5
extrude "Extrude9" add sketch "Sketch6" along normal blind 1 separate body contours L0 L1 L2 L3 A0 A1 A2 A3 A8 A9 | L0 A8 | L0 A8 | L0 A9 | L0 A9 | L4 A4 L5 A5 L6 A6 L7 A7 | A10 | A11 makes body 2
extrude "Extrude10" add sketch "Sketch6" along normal blind 50 contours L0 A8 | L0 A9 | L4 A4 L5 A5 L6 A6 L7 A7 picked at (132.3679, -0.025) picked at (147.8679, -0.025) bodies 2
sketch "Sketch7" plane through (200, 0, 0) normal (-1, 0, 0) x (0, -1, 0)
  line L0 (-137, 1) -> (-3, 1)
  line L1 (-3, 1) -> (-3, 50)
  line L2 (-3, 50) -> (-137, 50)
  line L3 (-137, 50) -> (-137, 1)
  line L4 (-137, 42) -> (-3, 42) construction
  line L5 (-137, 42) -> (-3, 42)
  line L6 (-3, 42) -> (-3, 43.5)
  line L7 (-3, 43.5) -> (-137, 43.5)
  line L8 (-137, 43.5) -> (-137, 42)
  circle A0 centre (-70, 50) radius 7.5
  dimension "d107" = 8
  dimension "d108" = 1.5
  dimension "d115" = 15
extrude "Extrude11" cut sketch "Sketch7" against normal blind 0.5 contours L1 L3 L5 L6 L7 L8 A0 | L7 A0 bodies 2
sketch "Sketch8" plane through (80, 0, 0) normal (1, 0, 0) x (0, 1, 0)
  line L0 (3, 1) -> (137, 1)
  line L1 (137, 1) -> (137, 50)
  line L2 (137, 50) -> (3, 50)
  line L3 (3, 50) -> (3, 1)
  line L4 (3, 42) -> (137, 42)
  line L5 (137, 42) -> (137, 43.5)
  line L6 (137, 43.5) -> (3, 43.5)
  line L7 (3, 43.5) -> (3, 42)
  circle A0 centre (70, 50) radius 7.5
  dimension "d111" = 8
  dimension "d112" = 1.5
  dimension "d118" = 15
extrude "Extrude12" cut sketch "Sketch8" against normal blind 0.5 contours L1 L3 L4 L5 L6 L7 A0 | L6 A0 bodies 2
extrude "Extrude13" cut sketch "Sketch7" against normal blind 5 contours L2 L7 A0 | L7 A0 bodies 2
extrude "Extrude14" cut sketch "Sketch8" against normal blind 5 contours L2 L6 A0 | L6 A0 bodies 2
extrude "Extrude15" add sketch "Sketch6" along normal blind 6 contours L0 A8 | L0 A9 picked at (132.2811, 0.3845) picked at (147.7811, 0.3845) bodies 2
sketch "Sketch9" plane through (0, -2, 0) normal (0, -1, 0) x (1, 0, 0)
  line L0 (83, 0) -> (197, 0)
  line L1 (197, 0) -> (197, 50)
  line L2 (197, 50) -> (83, 50)
  line L3 (83, 50) -> (83, 0)
  line L4 (140, 50) -> (140, 0) construction
  line L5 (145, 6.4) -> (135, 6.4)
  line L6 (135, 6.4) -> (135, 10.4)
  line L7 (135, 10.4) -> (145, 10.4)
  line L8 (145, 10.4) -> (145, 6.4)
  line L9 (145, 6.4) -> (135, 10.4) construction
  line L10 (135, 6.4) -> (145, 10.4) construction
  line L11 (83, 0) -> (197, 0)
  point P0 (140, 8.4)
  dimension "d130" = 10
  dimension "d131" = 4
  dimension "d132" = 6.4
extrude "Extrude16" cut sketch "Sketch9" against normal blind 15 contours L5 L6 L7 L8 bodies 2
equation "d123 = ( 15.5 / 2 ) * 1 mm"
equation "d124 = ( 15.5 / 2 ) * 1 mm"
equation "d132 = 5 mm + 1.4 mm"
